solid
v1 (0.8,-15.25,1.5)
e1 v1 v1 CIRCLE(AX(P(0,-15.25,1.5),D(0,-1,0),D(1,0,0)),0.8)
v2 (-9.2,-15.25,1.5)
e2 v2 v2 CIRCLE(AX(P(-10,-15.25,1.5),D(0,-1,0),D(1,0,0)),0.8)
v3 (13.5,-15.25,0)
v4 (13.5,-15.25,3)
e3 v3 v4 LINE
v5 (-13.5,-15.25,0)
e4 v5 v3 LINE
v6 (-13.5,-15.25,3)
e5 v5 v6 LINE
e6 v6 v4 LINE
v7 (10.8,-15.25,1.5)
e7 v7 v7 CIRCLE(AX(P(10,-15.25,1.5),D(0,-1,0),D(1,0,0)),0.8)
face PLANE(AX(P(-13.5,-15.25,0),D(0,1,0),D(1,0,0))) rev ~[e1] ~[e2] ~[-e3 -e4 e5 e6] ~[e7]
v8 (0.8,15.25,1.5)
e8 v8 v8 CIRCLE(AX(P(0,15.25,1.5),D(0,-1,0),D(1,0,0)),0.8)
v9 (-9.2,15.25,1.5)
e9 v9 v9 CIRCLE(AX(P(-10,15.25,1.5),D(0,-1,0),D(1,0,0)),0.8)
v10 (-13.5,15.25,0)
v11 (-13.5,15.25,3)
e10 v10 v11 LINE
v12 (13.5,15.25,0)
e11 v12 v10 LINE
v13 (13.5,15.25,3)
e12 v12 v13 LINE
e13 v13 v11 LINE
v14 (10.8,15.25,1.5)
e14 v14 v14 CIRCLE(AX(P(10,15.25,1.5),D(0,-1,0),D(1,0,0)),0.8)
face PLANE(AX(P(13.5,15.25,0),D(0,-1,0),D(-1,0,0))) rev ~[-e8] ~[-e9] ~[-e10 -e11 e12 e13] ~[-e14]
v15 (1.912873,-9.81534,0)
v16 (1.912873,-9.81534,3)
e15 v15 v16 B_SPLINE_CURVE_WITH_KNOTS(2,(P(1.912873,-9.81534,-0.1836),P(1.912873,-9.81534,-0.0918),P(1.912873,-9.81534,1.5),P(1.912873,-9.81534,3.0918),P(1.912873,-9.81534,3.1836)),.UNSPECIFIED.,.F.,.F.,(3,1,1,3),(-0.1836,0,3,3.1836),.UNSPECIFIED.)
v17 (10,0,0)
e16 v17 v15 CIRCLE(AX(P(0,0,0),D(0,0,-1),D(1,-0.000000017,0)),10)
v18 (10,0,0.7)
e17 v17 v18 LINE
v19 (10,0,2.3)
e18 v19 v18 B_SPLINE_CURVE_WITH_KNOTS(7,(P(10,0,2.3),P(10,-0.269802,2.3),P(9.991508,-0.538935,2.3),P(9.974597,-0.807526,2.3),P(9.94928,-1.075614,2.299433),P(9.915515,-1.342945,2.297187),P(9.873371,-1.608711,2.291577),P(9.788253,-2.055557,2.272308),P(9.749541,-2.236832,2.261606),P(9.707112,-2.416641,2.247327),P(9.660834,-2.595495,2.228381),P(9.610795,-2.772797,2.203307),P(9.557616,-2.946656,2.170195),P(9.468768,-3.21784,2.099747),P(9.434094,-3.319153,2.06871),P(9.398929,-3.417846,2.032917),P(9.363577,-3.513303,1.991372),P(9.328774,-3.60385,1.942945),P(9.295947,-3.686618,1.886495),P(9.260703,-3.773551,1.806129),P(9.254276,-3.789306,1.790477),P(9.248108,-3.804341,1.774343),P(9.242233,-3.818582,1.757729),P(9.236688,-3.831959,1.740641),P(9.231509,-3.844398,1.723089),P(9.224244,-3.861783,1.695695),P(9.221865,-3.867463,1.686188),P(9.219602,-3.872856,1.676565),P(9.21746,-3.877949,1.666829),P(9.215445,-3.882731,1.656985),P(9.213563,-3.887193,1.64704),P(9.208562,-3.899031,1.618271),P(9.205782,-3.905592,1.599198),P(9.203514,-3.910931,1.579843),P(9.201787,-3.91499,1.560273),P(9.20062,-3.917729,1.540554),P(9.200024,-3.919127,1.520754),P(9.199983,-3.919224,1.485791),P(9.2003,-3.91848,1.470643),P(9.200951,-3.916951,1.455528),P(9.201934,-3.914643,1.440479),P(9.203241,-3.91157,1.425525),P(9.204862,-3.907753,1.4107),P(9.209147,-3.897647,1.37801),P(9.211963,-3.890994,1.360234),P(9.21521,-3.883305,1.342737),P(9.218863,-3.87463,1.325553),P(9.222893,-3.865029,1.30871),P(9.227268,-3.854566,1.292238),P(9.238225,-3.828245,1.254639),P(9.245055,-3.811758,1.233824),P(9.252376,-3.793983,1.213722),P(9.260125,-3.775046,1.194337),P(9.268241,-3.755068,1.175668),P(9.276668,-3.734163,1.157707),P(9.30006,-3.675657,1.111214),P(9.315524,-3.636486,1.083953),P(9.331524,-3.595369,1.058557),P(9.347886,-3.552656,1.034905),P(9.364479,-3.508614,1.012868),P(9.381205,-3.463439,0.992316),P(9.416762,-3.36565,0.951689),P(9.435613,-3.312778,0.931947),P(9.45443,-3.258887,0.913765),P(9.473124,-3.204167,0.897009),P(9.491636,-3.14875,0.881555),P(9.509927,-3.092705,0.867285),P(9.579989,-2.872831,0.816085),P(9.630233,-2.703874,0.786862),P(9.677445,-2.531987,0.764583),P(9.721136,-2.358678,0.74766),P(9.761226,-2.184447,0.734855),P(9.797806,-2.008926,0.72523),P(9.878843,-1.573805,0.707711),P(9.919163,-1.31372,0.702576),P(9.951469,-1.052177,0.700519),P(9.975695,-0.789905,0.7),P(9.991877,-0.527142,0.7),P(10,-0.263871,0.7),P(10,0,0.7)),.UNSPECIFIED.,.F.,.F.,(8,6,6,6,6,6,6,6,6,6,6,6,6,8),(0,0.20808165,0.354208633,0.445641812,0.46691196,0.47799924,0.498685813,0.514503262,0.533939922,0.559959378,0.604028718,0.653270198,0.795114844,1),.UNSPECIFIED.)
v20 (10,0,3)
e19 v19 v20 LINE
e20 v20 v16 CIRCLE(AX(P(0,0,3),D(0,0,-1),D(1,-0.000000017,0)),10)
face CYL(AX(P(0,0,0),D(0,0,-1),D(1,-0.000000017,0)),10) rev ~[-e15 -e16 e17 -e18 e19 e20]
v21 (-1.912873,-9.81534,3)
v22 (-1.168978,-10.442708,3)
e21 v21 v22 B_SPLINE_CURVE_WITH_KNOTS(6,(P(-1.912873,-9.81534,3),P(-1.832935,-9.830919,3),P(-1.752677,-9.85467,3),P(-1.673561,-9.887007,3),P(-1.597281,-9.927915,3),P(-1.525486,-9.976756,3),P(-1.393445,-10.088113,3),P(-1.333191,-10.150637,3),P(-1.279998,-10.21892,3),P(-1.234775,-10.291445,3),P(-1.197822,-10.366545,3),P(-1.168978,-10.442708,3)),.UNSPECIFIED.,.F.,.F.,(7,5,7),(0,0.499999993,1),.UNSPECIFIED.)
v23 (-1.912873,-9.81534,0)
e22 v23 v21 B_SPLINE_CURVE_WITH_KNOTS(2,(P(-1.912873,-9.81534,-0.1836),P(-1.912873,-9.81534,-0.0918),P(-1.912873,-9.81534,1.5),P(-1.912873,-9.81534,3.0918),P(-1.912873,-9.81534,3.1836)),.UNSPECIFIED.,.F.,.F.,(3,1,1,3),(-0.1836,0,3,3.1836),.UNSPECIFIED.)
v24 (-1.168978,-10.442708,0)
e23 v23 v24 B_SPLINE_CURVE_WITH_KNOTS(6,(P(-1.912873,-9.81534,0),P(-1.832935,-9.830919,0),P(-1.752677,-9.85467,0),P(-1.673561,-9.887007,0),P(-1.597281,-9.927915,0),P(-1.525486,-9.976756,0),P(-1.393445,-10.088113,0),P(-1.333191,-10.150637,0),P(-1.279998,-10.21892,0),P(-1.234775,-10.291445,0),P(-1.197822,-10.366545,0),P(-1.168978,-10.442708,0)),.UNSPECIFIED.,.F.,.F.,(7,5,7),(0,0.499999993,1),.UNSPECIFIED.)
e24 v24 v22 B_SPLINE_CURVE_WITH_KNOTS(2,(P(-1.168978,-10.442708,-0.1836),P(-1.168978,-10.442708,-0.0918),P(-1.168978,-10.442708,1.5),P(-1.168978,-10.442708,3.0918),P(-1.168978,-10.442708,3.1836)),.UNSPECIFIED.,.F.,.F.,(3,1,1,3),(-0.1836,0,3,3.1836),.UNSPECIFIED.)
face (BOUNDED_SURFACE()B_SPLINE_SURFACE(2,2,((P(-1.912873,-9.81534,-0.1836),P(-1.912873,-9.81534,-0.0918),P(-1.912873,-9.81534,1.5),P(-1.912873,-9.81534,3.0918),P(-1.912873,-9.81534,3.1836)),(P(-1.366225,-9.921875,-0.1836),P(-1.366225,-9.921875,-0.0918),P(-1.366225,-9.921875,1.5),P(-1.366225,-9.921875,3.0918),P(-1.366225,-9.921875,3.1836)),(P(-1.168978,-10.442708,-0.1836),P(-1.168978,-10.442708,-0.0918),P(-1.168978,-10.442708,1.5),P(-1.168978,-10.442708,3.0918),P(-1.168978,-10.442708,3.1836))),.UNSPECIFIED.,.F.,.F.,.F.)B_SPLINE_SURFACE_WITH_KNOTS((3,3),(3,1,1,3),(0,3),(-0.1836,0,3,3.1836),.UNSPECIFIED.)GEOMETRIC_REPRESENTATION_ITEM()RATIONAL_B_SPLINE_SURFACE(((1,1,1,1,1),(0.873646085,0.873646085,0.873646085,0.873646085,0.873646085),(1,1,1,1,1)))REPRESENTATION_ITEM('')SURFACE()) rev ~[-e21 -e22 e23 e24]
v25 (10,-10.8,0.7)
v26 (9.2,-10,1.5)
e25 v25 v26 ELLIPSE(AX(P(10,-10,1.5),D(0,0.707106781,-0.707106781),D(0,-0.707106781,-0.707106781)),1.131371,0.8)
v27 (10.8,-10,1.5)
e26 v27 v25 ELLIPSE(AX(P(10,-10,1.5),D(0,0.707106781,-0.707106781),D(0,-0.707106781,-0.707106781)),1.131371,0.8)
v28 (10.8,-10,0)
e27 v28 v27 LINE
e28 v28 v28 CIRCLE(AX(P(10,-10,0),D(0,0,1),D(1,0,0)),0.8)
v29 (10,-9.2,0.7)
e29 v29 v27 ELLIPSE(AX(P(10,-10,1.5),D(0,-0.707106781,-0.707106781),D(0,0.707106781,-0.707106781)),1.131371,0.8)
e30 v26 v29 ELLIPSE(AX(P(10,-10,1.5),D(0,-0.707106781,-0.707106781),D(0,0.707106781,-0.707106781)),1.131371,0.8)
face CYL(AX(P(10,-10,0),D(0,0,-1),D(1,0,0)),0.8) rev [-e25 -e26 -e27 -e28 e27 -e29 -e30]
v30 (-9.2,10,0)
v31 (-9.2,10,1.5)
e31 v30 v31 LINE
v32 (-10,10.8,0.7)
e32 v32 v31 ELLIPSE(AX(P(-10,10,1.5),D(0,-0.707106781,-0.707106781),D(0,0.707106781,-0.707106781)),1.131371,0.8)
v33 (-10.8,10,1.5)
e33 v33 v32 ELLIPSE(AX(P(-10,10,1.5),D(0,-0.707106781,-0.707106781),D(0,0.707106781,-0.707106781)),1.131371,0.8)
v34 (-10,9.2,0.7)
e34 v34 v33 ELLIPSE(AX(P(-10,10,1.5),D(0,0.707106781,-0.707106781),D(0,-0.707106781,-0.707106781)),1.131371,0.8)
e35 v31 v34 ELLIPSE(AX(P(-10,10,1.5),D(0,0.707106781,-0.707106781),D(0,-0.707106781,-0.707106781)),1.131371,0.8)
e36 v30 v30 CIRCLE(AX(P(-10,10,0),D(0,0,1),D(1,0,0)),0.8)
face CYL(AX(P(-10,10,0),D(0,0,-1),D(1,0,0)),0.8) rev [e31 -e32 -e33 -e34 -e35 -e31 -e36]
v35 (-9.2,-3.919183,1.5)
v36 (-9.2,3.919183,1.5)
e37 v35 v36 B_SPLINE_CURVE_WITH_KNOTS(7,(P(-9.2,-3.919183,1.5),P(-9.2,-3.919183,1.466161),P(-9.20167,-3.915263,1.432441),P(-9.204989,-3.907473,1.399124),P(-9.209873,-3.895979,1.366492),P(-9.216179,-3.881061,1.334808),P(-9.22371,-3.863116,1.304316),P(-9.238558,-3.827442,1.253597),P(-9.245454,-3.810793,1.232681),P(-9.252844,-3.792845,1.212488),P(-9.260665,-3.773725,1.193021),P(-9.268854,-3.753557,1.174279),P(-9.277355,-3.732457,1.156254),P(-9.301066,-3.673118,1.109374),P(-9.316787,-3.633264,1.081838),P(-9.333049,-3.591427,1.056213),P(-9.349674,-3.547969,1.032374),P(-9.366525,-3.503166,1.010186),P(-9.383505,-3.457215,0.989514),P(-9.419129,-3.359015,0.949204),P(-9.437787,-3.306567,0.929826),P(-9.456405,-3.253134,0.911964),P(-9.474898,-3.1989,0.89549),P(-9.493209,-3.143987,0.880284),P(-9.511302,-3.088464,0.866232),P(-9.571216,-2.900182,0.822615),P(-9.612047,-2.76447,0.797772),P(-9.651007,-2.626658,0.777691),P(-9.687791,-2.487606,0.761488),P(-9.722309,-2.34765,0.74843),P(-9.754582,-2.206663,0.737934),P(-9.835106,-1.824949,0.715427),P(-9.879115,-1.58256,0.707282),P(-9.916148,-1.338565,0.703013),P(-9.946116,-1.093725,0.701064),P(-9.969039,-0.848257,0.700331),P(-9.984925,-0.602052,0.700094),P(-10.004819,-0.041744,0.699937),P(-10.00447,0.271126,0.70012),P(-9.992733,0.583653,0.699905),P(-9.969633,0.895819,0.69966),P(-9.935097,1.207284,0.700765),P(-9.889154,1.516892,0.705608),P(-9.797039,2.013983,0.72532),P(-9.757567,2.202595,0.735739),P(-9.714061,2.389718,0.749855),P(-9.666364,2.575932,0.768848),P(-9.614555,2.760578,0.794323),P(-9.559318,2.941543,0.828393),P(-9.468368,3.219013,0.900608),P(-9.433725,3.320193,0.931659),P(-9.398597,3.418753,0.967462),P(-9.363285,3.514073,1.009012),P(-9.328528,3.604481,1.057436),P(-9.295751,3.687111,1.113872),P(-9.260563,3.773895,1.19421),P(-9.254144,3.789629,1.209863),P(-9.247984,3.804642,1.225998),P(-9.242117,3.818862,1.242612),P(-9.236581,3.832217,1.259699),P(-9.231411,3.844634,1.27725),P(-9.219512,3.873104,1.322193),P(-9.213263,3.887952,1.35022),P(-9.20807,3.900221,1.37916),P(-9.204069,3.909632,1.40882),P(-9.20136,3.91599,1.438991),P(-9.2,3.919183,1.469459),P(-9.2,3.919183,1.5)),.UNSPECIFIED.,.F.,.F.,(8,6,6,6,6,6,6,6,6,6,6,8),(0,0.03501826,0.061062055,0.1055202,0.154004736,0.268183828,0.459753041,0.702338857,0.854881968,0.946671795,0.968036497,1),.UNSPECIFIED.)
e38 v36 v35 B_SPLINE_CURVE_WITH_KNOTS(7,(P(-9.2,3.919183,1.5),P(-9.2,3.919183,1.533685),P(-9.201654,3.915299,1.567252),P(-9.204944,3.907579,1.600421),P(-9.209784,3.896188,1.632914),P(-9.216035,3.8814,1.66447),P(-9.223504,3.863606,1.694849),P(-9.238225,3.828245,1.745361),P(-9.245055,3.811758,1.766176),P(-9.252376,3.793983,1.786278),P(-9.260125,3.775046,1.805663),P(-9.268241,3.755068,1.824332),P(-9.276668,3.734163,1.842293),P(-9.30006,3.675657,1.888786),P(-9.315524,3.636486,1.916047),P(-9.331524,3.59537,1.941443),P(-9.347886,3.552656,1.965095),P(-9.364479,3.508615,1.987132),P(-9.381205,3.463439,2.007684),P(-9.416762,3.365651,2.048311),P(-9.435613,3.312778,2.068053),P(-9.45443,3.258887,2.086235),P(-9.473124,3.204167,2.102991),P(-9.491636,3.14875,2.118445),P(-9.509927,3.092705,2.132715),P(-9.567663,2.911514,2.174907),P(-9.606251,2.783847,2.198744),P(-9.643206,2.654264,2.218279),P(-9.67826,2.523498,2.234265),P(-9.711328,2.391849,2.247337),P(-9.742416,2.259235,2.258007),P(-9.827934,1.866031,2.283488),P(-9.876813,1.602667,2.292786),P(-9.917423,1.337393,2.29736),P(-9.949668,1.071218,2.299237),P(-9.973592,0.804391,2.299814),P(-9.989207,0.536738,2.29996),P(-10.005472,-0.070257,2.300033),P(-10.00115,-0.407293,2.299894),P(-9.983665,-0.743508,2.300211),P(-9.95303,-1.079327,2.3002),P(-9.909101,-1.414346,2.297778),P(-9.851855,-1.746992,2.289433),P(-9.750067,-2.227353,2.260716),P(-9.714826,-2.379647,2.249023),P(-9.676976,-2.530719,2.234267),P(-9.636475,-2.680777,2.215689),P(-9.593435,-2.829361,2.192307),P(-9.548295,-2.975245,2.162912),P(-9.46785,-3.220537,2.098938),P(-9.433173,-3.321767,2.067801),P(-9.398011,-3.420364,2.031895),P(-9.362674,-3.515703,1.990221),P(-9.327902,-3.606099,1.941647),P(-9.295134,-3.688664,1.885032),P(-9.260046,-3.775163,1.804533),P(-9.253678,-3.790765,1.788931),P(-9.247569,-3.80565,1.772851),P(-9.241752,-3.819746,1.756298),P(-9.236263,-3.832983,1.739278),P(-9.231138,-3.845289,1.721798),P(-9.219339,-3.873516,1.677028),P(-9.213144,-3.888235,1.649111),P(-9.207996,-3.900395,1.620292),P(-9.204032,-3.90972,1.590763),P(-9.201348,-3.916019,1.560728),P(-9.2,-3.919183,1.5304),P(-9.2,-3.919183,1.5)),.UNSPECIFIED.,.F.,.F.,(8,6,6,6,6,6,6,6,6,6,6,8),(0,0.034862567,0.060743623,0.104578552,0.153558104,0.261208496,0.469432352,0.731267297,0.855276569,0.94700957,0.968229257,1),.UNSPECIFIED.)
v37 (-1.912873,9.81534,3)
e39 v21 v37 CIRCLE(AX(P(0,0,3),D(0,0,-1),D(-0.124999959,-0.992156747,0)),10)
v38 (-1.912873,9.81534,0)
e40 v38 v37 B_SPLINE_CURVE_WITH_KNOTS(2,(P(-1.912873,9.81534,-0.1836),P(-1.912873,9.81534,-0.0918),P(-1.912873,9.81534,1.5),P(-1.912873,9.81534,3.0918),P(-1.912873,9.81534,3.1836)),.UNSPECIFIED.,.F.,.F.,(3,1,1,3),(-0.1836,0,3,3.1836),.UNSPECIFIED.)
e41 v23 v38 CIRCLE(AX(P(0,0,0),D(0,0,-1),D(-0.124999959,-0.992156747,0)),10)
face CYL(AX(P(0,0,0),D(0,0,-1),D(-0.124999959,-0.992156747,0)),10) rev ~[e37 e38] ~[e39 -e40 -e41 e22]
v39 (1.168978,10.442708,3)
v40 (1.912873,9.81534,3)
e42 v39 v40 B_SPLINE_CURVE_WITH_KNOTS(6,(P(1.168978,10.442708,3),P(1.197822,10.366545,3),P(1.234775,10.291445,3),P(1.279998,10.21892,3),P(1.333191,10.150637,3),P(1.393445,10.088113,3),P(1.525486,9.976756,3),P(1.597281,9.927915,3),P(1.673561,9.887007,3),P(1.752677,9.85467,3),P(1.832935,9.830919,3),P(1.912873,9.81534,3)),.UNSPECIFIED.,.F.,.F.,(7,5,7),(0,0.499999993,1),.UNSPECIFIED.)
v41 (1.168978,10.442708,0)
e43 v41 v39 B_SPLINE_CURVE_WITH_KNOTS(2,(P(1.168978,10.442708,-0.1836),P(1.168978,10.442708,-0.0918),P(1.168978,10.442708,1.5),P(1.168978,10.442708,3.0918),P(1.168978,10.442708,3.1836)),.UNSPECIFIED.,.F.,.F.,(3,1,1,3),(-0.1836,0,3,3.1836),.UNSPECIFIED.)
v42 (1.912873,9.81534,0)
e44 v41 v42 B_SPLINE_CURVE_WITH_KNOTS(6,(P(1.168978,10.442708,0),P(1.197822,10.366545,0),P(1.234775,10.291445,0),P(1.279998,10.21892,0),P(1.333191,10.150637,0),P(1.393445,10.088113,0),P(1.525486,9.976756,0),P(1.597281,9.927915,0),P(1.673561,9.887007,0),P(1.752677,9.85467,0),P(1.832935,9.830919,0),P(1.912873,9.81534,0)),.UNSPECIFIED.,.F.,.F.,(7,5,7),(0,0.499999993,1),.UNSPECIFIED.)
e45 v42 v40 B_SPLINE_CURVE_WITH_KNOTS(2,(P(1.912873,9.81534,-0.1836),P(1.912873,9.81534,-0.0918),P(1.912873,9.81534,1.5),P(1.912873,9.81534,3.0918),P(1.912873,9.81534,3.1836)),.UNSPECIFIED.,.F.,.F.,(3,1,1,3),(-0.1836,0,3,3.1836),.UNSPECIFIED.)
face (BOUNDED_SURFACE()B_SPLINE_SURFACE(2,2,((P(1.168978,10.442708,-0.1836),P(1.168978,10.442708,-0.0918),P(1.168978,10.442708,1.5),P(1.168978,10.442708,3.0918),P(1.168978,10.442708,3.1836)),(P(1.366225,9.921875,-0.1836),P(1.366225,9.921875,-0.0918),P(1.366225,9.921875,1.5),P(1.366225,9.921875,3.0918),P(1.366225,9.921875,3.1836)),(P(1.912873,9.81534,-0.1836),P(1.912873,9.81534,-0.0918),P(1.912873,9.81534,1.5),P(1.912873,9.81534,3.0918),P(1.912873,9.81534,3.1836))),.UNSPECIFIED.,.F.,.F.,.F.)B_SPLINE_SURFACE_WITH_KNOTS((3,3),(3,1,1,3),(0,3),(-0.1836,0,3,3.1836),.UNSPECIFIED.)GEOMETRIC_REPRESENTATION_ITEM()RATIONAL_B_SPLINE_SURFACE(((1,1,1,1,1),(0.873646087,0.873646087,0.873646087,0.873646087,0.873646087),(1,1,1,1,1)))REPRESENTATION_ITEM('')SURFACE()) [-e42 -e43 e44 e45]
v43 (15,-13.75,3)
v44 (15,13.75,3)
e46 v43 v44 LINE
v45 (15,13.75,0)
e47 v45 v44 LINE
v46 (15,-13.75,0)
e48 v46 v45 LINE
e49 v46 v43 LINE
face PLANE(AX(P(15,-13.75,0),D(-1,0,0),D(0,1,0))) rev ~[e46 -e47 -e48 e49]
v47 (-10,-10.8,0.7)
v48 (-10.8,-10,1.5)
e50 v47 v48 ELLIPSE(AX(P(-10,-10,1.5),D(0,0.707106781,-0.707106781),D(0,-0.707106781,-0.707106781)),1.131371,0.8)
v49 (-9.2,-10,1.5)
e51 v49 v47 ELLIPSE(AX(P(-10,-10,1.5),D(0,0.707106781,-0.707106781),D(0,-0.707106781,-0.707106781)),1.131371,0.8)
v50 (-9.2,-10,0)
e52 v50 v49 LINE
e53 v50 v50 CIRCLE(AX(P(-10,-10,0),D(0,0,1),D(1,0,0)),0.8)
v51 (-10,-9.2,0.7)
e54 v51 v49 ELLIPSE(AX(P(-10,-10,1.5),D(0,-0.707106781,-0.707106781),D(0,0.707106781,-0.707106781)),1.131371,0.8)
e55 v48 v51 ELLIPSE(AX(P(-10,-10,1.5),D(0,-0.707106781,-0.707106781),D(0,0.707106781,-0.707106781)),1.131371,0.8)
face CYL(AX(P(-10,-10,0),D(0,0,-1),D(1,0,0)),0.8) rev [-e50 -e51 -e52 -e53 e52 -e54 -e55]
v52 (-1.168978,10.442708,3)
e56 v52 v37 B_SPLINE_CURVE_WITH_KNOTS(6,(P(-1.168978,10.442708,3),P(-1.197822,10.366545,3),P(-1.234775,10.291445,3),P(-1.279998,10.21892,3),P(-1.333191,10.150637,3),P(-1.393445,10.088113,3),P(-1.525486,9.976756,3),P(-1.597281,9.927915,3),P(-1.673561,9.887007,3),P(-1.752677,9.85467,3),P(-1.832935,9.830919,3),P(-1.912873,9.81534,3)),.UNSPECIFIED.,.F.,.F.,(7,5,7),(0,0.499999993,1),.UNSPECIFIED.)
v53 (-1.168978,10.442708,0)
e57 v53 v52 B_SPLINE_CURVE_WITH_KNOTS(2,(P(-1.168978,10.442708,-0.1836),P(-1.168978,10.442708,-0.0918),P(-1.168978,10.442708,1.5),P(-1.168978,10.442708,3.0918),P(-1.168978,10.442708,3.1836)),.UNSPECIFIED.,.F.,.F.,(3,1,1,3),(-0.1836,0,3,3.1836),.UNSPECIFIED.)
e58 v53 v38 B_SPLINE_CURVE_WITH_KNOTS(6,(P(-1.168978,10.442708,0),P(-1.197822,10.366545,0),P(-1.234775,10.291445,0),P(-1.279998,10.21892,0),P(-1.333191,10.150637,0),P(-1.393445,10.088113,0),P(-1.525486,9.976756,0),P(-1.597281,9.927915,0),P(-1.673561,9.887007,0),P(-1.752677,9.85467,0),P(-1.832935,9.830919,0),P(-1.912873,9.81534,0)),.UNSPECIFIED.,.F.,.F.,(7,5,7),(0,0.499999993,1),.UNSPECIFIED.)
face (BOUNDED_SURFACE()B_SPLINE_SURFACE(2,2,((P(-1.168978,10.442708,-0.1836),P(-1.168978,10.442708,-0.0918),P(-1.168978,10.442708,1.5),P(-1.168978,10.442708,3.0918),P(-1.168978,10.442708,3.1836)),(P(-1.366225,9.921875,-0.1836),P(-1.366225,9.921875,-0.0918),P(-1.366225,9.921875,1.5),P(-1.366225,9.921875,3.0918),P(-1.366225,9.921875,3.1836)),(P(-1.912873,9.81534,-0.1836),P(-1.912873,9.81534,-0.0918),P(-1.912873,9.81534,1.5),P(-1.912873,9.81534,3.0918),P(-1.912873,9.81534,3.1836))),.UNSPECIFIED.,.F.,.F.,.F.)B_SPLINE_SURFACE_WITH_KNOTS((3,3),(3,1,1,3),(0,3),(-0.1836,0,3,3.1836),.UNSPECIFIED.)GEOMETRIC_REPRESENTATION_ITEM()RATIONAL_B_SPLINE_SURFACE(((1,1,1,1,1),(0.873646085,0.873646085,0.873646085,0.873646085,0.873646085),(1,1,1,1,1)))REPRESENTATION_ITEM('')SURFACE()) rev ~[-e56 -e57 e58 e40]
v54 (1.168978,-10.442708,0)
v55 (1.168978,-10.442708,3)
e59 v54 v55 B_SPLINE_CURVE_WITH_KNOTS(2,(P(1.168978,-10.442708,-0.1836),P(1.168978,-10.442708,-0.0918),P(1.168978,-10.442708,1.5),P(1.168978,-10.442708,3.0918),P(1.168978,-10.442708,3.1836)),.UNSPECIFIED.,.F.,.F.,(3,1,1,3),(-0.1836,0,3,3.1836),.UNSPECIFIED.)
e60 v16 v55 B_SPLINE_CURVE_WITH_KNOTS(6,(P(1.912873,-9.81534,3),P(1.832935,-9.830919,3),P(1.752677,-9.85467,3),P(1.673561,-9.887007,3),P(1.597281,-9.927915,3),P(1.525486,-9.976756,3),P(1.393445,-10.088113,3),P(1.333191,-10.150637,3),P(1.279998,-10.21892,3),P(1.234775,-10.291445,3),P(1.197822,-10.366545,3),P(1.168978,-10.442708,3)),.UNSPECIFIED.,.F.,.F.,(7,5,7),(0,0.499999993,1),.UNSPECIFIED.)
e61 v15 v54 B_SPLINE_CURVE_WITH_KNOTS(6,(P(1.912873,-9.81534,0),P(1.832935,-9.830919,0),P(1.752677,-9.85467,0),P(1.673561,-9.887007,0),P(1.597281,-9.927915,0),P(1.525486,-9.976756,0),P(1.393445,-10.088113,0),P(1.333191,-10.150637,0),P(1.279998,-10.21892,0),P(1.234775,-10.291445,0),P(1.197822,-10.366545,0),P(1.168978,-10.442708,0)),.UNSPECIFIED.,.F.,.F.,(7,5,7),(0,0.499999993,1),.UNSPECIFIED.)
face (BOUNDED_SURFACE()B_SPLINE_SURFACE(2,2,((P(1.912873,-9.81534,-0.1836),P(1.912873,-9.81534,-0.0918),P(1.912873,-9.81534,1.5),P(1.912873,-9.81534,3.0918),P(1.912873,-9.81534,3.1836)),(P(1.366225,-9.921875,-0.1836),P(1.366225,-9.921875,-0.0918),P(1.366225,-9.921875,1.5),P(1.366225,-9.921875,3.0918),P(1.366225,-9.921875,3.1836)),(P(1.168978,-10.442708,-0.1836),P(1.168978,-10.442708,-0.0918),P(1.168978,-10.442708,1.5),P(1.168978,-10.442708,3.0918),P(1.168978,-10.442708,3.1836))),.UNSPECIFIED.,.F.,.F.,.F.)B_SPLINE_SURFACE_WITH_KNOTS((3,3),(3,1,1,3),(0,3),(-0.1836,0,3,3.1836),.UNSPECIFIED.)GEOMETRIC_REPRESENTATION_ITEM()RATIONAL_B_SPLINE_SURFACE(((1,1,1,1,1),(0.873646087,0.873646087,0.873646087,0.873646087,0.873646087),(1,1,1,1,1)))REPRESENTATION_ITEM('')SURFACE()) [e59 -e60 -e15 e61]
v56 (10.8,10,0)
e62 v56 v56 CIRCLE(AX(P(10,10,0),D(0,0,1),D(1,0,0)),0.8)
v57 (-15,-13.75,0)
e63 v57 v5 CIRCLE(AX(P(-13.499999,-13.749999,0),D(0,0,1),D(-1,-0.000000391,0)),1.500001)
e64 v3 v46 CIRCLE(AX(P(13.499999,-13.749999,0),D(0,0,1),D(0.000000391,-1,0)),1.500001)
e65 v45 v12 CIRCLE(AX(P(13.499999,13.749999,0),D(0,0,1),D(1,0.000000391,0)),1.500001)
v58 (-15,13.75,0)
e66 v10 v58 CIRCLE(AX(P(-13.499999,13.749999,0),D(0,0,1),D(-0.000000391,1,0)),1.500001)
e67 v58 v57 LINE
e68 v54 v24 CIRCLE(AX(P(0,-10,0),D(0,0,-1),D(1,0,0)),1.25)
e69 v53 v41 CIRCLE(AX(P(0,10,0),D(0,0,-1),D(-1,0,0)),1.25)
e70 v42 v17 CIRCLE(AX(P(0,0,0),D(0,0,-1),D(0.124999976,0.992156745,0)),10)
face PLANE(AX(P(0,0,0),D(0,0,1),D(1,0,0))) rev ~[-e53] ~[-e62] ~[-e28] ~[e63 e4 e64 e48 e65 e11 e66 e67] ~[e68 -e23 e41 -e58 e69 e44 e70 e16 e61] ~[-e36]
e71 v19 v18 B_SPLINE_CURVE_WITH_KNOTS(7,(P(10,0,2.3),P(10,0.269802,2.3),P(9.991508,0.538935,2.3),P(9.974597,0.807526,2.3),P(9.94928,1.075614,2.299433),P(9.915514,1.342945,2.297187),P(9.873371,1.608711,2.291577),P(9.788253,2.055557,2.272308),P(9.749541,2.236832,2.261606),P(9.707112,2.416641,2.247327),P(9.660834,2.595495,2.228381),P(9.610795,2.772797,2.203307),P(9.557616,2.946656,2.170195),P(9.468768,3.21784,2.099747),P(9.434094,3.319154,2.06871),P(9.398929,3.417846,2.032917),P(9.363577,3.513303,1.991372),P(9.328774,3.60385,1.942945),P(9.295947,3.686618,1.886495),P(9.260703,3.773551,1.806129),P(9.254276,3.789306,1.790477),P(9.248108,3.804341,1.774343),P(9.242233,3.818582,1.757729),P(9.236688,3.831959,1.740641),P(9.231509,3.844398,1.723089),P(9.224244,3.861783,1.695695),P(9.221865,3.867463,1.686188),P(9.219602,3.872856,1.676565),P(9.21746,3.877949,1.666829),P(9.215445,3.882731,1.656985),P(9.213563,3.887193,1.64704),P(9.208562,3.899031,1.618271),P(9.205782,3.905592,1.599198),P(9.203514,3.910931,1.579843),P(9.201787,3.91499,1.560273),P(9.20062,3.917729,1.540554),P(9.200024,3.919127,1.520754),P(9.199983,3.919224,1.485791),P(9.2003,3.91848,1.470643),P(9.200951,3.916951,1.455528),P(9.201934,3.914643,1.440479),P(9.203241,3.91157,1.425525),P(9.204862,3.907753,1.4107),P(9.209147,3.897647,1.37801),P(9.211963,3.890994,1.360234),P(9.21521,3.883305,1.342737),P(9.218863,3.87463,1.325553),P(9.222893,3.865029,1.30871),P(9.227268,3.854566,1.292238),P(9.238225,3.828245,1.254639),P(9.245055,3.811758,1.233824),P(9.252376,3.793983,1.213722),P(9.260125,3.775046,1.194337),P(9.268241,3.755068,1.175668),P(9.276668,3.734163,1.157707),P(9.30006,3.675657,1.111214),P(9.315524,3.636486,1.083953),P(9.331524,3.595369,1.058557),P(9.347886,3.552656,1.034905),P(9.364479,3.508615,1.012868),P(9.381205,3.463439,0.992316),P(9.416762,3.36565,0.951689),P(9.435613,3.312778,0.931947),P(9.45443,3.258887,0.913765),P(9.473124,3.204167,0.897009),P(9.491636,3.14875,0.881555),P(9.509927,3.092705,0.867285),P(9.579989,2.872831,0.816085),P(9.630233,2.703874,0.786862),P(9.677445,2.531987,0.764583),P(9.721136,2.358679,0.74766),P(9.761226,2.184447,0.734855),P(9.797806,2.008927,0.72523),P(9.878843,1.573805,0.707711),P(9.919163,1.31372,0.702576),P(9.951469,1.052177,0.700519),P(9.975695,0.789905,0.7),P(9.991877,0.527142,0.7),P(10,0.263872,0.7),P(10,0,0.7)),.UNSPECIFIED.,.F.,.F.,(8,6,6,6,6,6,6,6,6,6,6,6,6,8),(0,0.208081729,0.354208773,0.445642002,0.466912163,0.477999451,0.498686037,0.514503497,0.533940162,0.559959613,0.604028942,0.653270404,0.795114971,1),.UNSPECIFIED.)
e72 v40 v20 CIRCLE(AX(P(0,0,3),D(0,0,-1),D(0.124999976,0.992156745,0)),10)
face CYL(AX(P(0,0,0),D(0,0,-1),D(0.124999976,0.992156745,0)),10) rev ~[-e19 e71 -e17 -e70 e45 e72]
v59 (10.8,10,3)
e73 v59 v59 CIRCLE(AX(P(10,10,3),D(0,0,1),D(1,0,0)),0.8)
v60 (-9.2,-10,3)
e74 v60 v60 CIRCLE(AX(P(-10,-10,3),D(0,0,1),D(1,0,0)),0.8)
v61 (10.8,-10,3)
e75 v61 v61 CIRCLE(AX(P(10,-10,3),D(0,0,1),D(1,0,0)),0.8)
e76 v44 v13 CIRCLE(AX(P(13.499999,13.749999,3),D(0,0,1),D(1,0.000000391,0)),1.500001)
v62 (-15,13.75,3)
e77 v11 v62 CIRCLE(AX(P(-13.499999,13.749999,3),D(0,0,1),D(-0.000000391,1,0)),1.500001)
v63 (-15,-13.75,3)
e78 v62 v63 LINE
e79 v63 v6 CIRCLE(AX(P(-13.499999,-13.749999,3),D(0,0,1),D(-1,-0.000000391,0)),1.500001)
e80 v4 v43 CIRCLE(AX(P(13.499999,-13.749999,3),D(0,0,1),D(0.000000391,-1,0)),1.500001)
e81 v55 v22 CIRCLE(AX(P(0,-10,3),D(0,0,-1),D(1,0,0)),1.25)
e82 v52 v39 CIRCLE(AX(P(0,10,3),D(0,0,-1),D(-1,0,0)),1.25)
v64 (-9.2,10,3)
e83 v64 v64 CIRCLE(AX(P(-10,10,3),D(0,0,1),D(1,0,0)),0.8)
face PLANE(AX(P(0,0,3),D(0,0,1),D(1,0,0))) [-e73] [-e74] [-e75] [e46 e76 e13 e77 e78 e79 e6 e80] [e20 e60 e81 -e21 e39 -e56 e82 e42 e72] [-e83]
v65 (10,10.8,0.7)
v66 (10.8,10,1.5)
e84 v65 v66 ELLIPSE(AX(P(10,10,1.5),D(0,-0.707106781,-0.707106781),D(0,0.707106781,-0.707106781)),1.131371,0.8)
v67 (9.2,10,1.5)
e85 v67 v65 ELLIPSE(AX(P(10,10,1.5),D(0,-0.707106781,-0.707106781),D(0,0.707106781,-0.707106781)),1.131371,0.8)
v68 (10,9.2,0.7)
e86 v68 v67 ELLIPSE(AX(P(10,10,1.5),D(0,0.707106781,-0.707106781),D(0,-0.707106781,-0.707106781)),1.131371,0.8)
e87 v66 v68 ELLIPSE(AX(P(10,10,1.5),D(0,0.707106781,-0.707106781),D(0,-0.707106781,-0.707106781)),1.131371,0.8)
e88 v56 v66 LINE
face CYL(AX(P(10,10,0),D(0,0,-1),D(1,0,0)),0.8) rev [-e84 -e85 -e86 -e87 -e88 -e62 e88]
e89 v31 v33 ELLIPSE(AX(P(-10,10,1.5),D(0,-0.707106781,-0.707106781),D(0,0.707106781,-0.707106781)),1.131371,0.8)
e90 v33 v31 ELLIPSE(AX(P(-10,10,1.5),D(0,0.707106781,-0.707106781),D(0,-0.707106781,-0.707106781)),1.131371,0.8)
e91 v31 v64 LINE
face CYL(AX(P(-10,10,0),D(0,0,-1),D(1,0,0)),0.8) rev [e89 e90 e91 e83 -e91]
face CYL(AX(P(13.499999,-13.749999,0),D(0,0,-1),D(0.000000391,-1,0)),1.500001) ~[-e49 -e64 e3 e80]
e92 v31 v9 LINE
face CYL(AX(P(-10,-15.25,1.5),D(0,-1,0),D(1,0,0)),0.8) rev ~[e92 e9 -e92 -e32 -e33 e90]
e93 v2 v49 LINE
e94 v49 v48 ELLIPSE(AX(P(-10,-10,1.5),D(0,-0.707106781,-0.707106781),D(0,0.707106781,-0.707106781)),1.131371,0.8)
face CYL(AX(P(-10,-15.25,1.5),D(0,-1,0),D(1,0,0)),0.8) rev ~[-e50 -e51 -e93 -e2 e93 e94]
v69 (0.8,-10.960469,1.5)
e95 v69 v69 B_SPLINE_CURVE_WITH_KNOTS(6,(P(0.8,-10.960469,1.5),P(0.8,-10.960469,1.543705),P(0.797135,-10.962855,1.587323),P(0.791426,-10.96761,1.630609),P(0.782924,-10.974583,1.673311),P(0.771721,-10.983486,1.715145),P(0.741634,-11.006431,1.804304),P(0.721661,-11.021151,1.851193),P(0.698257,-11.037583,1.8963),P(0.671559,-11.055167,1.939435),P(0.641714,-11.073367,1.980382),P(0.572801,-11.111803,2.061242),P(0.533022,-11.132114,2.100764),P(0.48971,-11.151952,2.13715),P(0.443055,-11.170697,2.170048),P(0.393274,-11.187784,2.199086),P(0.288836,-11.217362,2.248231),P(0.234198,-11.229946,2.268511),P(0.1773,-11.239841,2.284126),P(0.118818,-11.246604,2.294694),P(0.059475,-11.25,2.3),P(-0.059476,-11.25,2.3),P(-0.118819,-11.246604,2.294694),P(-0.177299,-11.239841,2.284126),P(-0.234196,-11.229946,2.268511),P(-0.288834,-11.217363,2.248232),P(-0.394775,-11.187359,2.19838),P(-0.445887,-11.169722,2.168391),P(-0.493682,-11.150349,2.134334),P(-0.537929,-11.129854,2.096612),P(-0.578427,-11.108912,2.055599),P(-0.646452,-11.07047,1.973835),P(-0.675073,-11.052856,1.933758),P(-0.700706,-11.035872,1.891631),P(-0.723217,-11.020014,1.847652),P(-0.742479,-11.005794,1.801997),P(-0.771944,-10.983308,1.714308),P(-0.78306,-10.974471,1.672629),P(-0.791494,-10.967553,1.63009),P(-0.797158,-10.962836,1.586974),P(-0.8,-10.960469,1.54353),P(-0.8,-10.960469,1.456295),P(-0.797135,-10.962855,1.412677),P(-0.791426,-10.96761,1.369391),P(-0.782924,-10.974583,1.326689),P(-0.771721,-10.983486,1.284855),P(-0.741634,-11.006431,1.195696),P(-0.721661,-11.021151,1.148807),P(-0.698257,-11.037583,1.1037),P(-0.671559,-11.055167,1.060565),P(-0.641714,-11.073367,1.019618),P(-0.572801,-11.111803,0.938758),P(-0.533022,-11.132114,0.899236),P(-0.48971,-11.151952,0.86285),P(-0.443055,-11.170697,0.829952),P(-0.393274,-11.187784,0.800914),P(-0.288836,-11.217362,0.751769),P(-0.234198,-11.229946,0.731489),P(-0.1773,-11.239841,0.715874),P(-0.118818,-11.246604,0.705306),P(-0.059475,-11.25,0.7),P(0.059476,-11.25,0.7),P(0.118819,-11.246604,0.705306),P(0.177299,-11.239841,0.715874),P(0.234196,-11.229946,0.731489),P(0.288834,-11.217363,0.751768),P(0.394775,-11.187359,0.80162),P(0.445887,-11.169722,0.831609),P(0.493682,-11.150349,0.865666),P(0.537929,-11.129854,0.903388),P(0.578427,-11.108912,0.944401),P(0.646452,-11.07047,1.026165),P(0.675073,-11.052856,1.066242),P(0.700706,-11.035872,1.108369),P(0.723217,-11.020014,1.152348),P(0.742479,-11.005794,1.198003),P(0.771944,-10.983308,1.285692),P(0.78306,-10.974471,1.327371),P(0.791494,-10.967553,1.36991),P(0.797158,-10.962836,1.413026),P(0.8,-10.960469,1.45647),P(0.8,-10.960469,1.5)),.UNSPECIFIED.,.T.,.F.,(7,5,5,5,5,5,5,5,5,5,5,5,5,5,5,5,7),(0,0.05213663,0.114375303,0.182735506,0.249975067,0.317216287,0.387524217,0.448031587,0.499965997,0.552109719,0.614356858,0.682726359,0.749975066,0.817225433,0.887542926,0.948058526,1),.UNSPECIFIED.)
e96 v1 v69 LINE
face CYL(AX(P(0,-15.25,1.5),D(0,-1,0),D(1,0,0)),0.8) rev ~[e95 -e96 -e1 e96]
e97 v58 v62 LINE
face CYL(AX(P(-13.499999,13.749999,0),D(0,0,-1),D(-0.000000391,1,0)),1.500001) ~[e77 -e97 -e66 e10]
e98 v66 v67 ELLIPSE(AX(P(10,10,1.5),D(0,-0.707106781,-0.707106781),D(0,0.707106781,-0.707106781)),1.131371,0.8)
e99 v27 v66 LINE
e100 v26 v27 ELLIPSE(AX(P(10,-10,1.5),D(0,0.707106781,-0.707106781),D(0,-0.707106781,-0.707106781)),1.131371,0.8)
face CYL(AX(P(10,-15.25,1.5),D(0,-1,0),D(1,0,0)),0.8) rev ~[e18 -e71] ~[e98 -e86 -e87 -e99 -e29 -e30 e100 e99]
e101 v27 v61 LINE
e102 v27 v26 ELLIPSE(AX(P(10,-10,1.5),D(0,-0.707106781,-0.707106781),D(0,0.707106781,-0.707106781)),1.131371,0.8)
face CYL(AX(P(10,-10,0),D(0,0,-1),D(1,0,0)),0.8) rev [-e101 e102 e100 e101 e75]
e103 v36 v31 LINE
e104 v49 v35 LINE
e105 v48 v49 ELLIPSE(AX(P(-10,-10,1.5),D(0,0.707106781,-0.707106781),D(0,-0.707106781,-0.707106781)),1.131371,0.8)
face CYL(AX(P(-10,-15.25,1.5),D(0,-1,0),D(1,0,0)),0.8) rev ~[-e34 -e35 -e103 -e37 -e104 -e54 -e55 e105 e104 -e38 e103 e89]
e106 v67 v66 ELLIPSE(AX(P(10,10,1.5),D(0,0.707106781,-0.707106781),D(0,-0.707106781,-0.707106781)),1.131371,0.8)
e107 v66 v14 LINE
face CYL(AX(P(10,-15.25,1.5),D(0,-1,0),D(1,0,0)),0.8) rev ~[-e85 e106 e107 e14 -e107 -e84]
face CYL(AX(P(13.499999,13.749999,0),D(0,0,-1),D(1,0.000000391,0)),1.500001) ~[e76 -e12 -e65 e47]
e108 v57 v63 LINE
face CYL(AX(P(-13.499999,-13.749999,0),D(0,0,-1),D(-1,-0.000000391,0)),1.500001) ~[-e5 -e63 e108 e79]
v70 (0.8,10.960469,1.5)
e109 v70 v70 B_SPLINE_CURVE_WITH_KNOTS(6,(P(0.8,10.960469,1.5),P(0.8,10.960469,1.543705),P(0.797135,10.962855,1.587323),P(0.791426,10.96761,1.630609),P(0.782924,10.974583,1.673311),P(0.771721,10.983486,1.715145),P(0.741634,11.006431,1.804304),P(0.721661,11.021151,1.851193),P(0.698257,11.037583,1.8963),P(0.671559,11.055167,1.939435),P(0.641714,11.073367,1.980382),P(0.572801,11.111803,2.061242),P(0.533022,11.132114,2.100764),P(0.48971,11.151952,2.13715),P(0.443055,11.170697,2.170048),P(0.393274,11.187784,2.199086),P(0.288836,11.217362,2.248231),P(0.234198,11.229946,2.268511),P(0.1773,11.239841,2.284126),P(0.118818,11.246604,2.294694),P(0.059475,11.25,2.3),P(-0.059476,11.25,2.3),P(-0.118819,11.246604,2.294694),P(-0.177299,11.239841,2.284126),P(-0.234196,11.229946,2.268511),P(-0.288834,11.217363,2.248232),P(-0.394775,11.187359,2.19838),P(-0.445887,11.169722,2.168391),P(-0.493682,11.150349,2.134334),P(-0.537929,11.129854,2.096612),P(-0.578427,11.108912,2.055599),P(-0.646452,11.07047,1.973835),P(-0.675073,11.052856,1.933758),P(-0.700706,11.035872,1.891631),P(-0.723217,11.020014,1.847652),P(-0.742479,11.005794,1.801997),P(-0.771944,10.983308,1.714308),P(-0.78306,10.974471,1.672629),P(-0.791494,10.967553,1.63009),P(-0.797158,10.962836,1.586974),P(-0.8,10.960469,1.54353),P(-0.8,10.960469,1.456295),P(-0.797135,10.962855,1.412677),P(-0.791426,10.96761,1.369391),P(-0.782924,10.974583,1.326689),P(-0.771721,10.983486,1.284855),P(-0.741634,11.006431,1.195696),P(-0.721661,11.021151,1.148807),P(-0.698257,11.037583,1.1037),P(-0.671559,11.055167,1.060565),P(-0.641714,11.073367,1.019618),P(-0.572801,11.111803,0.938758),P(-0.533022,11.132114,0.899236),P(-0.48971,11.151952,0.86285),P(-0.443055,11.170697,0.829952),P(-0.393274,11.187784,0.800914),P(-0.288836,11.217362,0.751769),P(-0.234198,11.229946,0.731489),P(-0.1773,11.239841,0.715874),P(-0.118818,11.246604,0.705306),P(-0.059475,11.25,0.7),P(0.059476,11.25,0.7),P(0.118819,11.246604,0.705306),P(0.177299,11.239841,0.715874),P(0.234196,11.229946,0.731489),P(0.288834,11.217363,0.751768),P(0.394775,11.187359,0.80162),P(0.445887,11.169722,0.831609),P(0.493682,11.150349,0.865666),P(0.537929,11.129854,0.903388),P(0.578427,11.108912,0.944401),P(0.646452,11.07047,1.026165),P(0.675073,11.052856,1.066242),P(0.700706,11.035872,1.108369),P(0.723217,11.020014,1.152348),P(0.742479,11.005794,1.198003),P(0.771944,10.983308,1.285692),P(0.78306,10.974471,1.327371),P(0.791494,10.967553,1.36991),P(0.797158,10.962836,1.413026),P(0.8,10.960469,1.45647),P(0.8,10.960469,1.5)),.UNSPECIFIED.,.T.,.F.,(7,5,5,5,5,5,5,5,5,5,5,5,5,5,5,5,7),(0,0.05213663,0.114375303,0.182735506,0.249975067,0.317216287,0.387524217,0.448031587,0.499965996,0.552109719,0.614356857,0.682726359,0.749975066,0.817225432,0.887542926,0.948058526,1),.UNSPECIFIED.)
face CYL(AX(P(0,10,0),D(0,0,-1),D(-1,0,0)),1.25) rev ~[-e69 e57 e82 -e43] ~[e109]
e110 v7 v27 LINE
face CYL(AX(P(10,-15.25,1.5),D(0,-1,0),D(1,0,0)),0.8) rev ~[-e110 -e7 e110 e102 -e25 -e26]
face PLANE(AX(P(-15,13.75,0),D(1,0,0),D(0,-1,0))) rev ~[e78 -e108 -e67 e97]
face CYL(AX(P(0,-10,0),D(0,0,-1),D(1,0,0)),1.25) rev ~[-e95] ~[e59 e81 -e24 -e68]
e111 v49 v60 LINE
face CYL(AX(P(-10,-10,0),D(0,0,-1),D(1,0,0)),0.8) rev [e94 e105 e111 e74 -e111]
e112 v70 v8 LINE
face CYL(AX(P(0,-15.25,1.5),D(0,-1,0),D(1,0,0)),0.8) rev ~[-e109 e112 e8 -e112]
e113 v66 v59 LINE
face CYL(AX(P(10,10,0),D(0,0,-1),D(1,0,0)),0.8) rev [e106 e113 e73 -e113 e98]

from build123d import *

# Parameters (mm, degrees)
F0_R     = 0.8
F1_DEPTH = 3
F2_R     = 0.8
F3_DEPTH = 30.501
F4_R     = 1


with BuildPart() as f1:
    # F0 (on Top) → F1 (new body)
    with BuildSketch(Plane.XY):
        with BuildLine():
            Line((13.5, 15.25), (-13.5, 15.25))
            ThreePointArc((-13.5, 15.25), (-14.56066, 14.81066), (-15, 13.75))
            Line((-15, 13.75), (-15, -13.75))
            ThreePointArc((-15, -13.75), (-14.56066, -14.81066), (-13.5, -15.25))
            Line((-13.5, -15.25), (13.5, -15.25))
            ThreePointArc((13.5, -15.25), (14.56066, -14.81066), (15, -13.75))
            Line((15, -13.75), (15, 13.75))
            ThreePointArc((15, 13.75), (14.56066, 14.81066), (13.5, 15.25))
        make_face()
        with Locations((-10, -10)):
            Circle(F0_R, mode=Mode.SUBTRACT)
        with Locations((10, -10)):
            Circle(F0_R, mode=Mode.SUBTRACT)
        with Locations((-10, 10)):
            Circle(F0_R, mode=Mode.SUBTRACT)
        with BuildLine():
            ThreePointArc((1.25, 9.921567), (7.5, 6.614378), (10, 0))
            ThreePointArc((10, 0), (7.5, -6.614378), (1.25, -9.921567))
            Line((1.25, -9.921567), (1.25, -10))
            ThreePointArc((1.25, -10), (0, -11.25), (-1.25, -10))
            Line((-1.25, -10), (-1.25, -9.921567))
            ThreePointArc((-1.25, -9.921567), (-10, 0), (-1.25, 9.921567))
            Line((-1.25, 9.921567), (-1.25, 10))
            ThreePointArc((-1.25, 10), (0, 11.25), (1.25, 10))
            Line((1.25, 10), (1.25, 9.921567))
        make_face(mode=Mode.SUBTRACT)
        with Locations((10, 10)):
            Circle(F0_R, mode=Mode.SUBTRACT)
    extrude(amount=F1_DEPTH)

    # F2 (on face) → F3 (cut, through all)
    with BuildSketch(Plane.XZ.offset(15.25)):
        with Locations((0, 1.5)):
            Circle(F2_R)
        with Locations((10, 1.5)):
            Circle(F2_R)
        with Locations((-10, 1.5)):
            Circle(F2_R)
    extrude(amount=-F3_DEPTH, mode=Mode.SUBTRACT)

    # F4
    f4_edges = [f1.edges().sort_by_distance(p)[0] for p in [
        (1.25, 9.921567, 1.5),
        (-1.25, 9.921567, 1.5),
        (-1.25, -9.921567, 1.5),
        (1.25, -9.921567, 1.5),
    ]]
    fillet(f4_edges, radius=F4_R)


solid = f1.part
